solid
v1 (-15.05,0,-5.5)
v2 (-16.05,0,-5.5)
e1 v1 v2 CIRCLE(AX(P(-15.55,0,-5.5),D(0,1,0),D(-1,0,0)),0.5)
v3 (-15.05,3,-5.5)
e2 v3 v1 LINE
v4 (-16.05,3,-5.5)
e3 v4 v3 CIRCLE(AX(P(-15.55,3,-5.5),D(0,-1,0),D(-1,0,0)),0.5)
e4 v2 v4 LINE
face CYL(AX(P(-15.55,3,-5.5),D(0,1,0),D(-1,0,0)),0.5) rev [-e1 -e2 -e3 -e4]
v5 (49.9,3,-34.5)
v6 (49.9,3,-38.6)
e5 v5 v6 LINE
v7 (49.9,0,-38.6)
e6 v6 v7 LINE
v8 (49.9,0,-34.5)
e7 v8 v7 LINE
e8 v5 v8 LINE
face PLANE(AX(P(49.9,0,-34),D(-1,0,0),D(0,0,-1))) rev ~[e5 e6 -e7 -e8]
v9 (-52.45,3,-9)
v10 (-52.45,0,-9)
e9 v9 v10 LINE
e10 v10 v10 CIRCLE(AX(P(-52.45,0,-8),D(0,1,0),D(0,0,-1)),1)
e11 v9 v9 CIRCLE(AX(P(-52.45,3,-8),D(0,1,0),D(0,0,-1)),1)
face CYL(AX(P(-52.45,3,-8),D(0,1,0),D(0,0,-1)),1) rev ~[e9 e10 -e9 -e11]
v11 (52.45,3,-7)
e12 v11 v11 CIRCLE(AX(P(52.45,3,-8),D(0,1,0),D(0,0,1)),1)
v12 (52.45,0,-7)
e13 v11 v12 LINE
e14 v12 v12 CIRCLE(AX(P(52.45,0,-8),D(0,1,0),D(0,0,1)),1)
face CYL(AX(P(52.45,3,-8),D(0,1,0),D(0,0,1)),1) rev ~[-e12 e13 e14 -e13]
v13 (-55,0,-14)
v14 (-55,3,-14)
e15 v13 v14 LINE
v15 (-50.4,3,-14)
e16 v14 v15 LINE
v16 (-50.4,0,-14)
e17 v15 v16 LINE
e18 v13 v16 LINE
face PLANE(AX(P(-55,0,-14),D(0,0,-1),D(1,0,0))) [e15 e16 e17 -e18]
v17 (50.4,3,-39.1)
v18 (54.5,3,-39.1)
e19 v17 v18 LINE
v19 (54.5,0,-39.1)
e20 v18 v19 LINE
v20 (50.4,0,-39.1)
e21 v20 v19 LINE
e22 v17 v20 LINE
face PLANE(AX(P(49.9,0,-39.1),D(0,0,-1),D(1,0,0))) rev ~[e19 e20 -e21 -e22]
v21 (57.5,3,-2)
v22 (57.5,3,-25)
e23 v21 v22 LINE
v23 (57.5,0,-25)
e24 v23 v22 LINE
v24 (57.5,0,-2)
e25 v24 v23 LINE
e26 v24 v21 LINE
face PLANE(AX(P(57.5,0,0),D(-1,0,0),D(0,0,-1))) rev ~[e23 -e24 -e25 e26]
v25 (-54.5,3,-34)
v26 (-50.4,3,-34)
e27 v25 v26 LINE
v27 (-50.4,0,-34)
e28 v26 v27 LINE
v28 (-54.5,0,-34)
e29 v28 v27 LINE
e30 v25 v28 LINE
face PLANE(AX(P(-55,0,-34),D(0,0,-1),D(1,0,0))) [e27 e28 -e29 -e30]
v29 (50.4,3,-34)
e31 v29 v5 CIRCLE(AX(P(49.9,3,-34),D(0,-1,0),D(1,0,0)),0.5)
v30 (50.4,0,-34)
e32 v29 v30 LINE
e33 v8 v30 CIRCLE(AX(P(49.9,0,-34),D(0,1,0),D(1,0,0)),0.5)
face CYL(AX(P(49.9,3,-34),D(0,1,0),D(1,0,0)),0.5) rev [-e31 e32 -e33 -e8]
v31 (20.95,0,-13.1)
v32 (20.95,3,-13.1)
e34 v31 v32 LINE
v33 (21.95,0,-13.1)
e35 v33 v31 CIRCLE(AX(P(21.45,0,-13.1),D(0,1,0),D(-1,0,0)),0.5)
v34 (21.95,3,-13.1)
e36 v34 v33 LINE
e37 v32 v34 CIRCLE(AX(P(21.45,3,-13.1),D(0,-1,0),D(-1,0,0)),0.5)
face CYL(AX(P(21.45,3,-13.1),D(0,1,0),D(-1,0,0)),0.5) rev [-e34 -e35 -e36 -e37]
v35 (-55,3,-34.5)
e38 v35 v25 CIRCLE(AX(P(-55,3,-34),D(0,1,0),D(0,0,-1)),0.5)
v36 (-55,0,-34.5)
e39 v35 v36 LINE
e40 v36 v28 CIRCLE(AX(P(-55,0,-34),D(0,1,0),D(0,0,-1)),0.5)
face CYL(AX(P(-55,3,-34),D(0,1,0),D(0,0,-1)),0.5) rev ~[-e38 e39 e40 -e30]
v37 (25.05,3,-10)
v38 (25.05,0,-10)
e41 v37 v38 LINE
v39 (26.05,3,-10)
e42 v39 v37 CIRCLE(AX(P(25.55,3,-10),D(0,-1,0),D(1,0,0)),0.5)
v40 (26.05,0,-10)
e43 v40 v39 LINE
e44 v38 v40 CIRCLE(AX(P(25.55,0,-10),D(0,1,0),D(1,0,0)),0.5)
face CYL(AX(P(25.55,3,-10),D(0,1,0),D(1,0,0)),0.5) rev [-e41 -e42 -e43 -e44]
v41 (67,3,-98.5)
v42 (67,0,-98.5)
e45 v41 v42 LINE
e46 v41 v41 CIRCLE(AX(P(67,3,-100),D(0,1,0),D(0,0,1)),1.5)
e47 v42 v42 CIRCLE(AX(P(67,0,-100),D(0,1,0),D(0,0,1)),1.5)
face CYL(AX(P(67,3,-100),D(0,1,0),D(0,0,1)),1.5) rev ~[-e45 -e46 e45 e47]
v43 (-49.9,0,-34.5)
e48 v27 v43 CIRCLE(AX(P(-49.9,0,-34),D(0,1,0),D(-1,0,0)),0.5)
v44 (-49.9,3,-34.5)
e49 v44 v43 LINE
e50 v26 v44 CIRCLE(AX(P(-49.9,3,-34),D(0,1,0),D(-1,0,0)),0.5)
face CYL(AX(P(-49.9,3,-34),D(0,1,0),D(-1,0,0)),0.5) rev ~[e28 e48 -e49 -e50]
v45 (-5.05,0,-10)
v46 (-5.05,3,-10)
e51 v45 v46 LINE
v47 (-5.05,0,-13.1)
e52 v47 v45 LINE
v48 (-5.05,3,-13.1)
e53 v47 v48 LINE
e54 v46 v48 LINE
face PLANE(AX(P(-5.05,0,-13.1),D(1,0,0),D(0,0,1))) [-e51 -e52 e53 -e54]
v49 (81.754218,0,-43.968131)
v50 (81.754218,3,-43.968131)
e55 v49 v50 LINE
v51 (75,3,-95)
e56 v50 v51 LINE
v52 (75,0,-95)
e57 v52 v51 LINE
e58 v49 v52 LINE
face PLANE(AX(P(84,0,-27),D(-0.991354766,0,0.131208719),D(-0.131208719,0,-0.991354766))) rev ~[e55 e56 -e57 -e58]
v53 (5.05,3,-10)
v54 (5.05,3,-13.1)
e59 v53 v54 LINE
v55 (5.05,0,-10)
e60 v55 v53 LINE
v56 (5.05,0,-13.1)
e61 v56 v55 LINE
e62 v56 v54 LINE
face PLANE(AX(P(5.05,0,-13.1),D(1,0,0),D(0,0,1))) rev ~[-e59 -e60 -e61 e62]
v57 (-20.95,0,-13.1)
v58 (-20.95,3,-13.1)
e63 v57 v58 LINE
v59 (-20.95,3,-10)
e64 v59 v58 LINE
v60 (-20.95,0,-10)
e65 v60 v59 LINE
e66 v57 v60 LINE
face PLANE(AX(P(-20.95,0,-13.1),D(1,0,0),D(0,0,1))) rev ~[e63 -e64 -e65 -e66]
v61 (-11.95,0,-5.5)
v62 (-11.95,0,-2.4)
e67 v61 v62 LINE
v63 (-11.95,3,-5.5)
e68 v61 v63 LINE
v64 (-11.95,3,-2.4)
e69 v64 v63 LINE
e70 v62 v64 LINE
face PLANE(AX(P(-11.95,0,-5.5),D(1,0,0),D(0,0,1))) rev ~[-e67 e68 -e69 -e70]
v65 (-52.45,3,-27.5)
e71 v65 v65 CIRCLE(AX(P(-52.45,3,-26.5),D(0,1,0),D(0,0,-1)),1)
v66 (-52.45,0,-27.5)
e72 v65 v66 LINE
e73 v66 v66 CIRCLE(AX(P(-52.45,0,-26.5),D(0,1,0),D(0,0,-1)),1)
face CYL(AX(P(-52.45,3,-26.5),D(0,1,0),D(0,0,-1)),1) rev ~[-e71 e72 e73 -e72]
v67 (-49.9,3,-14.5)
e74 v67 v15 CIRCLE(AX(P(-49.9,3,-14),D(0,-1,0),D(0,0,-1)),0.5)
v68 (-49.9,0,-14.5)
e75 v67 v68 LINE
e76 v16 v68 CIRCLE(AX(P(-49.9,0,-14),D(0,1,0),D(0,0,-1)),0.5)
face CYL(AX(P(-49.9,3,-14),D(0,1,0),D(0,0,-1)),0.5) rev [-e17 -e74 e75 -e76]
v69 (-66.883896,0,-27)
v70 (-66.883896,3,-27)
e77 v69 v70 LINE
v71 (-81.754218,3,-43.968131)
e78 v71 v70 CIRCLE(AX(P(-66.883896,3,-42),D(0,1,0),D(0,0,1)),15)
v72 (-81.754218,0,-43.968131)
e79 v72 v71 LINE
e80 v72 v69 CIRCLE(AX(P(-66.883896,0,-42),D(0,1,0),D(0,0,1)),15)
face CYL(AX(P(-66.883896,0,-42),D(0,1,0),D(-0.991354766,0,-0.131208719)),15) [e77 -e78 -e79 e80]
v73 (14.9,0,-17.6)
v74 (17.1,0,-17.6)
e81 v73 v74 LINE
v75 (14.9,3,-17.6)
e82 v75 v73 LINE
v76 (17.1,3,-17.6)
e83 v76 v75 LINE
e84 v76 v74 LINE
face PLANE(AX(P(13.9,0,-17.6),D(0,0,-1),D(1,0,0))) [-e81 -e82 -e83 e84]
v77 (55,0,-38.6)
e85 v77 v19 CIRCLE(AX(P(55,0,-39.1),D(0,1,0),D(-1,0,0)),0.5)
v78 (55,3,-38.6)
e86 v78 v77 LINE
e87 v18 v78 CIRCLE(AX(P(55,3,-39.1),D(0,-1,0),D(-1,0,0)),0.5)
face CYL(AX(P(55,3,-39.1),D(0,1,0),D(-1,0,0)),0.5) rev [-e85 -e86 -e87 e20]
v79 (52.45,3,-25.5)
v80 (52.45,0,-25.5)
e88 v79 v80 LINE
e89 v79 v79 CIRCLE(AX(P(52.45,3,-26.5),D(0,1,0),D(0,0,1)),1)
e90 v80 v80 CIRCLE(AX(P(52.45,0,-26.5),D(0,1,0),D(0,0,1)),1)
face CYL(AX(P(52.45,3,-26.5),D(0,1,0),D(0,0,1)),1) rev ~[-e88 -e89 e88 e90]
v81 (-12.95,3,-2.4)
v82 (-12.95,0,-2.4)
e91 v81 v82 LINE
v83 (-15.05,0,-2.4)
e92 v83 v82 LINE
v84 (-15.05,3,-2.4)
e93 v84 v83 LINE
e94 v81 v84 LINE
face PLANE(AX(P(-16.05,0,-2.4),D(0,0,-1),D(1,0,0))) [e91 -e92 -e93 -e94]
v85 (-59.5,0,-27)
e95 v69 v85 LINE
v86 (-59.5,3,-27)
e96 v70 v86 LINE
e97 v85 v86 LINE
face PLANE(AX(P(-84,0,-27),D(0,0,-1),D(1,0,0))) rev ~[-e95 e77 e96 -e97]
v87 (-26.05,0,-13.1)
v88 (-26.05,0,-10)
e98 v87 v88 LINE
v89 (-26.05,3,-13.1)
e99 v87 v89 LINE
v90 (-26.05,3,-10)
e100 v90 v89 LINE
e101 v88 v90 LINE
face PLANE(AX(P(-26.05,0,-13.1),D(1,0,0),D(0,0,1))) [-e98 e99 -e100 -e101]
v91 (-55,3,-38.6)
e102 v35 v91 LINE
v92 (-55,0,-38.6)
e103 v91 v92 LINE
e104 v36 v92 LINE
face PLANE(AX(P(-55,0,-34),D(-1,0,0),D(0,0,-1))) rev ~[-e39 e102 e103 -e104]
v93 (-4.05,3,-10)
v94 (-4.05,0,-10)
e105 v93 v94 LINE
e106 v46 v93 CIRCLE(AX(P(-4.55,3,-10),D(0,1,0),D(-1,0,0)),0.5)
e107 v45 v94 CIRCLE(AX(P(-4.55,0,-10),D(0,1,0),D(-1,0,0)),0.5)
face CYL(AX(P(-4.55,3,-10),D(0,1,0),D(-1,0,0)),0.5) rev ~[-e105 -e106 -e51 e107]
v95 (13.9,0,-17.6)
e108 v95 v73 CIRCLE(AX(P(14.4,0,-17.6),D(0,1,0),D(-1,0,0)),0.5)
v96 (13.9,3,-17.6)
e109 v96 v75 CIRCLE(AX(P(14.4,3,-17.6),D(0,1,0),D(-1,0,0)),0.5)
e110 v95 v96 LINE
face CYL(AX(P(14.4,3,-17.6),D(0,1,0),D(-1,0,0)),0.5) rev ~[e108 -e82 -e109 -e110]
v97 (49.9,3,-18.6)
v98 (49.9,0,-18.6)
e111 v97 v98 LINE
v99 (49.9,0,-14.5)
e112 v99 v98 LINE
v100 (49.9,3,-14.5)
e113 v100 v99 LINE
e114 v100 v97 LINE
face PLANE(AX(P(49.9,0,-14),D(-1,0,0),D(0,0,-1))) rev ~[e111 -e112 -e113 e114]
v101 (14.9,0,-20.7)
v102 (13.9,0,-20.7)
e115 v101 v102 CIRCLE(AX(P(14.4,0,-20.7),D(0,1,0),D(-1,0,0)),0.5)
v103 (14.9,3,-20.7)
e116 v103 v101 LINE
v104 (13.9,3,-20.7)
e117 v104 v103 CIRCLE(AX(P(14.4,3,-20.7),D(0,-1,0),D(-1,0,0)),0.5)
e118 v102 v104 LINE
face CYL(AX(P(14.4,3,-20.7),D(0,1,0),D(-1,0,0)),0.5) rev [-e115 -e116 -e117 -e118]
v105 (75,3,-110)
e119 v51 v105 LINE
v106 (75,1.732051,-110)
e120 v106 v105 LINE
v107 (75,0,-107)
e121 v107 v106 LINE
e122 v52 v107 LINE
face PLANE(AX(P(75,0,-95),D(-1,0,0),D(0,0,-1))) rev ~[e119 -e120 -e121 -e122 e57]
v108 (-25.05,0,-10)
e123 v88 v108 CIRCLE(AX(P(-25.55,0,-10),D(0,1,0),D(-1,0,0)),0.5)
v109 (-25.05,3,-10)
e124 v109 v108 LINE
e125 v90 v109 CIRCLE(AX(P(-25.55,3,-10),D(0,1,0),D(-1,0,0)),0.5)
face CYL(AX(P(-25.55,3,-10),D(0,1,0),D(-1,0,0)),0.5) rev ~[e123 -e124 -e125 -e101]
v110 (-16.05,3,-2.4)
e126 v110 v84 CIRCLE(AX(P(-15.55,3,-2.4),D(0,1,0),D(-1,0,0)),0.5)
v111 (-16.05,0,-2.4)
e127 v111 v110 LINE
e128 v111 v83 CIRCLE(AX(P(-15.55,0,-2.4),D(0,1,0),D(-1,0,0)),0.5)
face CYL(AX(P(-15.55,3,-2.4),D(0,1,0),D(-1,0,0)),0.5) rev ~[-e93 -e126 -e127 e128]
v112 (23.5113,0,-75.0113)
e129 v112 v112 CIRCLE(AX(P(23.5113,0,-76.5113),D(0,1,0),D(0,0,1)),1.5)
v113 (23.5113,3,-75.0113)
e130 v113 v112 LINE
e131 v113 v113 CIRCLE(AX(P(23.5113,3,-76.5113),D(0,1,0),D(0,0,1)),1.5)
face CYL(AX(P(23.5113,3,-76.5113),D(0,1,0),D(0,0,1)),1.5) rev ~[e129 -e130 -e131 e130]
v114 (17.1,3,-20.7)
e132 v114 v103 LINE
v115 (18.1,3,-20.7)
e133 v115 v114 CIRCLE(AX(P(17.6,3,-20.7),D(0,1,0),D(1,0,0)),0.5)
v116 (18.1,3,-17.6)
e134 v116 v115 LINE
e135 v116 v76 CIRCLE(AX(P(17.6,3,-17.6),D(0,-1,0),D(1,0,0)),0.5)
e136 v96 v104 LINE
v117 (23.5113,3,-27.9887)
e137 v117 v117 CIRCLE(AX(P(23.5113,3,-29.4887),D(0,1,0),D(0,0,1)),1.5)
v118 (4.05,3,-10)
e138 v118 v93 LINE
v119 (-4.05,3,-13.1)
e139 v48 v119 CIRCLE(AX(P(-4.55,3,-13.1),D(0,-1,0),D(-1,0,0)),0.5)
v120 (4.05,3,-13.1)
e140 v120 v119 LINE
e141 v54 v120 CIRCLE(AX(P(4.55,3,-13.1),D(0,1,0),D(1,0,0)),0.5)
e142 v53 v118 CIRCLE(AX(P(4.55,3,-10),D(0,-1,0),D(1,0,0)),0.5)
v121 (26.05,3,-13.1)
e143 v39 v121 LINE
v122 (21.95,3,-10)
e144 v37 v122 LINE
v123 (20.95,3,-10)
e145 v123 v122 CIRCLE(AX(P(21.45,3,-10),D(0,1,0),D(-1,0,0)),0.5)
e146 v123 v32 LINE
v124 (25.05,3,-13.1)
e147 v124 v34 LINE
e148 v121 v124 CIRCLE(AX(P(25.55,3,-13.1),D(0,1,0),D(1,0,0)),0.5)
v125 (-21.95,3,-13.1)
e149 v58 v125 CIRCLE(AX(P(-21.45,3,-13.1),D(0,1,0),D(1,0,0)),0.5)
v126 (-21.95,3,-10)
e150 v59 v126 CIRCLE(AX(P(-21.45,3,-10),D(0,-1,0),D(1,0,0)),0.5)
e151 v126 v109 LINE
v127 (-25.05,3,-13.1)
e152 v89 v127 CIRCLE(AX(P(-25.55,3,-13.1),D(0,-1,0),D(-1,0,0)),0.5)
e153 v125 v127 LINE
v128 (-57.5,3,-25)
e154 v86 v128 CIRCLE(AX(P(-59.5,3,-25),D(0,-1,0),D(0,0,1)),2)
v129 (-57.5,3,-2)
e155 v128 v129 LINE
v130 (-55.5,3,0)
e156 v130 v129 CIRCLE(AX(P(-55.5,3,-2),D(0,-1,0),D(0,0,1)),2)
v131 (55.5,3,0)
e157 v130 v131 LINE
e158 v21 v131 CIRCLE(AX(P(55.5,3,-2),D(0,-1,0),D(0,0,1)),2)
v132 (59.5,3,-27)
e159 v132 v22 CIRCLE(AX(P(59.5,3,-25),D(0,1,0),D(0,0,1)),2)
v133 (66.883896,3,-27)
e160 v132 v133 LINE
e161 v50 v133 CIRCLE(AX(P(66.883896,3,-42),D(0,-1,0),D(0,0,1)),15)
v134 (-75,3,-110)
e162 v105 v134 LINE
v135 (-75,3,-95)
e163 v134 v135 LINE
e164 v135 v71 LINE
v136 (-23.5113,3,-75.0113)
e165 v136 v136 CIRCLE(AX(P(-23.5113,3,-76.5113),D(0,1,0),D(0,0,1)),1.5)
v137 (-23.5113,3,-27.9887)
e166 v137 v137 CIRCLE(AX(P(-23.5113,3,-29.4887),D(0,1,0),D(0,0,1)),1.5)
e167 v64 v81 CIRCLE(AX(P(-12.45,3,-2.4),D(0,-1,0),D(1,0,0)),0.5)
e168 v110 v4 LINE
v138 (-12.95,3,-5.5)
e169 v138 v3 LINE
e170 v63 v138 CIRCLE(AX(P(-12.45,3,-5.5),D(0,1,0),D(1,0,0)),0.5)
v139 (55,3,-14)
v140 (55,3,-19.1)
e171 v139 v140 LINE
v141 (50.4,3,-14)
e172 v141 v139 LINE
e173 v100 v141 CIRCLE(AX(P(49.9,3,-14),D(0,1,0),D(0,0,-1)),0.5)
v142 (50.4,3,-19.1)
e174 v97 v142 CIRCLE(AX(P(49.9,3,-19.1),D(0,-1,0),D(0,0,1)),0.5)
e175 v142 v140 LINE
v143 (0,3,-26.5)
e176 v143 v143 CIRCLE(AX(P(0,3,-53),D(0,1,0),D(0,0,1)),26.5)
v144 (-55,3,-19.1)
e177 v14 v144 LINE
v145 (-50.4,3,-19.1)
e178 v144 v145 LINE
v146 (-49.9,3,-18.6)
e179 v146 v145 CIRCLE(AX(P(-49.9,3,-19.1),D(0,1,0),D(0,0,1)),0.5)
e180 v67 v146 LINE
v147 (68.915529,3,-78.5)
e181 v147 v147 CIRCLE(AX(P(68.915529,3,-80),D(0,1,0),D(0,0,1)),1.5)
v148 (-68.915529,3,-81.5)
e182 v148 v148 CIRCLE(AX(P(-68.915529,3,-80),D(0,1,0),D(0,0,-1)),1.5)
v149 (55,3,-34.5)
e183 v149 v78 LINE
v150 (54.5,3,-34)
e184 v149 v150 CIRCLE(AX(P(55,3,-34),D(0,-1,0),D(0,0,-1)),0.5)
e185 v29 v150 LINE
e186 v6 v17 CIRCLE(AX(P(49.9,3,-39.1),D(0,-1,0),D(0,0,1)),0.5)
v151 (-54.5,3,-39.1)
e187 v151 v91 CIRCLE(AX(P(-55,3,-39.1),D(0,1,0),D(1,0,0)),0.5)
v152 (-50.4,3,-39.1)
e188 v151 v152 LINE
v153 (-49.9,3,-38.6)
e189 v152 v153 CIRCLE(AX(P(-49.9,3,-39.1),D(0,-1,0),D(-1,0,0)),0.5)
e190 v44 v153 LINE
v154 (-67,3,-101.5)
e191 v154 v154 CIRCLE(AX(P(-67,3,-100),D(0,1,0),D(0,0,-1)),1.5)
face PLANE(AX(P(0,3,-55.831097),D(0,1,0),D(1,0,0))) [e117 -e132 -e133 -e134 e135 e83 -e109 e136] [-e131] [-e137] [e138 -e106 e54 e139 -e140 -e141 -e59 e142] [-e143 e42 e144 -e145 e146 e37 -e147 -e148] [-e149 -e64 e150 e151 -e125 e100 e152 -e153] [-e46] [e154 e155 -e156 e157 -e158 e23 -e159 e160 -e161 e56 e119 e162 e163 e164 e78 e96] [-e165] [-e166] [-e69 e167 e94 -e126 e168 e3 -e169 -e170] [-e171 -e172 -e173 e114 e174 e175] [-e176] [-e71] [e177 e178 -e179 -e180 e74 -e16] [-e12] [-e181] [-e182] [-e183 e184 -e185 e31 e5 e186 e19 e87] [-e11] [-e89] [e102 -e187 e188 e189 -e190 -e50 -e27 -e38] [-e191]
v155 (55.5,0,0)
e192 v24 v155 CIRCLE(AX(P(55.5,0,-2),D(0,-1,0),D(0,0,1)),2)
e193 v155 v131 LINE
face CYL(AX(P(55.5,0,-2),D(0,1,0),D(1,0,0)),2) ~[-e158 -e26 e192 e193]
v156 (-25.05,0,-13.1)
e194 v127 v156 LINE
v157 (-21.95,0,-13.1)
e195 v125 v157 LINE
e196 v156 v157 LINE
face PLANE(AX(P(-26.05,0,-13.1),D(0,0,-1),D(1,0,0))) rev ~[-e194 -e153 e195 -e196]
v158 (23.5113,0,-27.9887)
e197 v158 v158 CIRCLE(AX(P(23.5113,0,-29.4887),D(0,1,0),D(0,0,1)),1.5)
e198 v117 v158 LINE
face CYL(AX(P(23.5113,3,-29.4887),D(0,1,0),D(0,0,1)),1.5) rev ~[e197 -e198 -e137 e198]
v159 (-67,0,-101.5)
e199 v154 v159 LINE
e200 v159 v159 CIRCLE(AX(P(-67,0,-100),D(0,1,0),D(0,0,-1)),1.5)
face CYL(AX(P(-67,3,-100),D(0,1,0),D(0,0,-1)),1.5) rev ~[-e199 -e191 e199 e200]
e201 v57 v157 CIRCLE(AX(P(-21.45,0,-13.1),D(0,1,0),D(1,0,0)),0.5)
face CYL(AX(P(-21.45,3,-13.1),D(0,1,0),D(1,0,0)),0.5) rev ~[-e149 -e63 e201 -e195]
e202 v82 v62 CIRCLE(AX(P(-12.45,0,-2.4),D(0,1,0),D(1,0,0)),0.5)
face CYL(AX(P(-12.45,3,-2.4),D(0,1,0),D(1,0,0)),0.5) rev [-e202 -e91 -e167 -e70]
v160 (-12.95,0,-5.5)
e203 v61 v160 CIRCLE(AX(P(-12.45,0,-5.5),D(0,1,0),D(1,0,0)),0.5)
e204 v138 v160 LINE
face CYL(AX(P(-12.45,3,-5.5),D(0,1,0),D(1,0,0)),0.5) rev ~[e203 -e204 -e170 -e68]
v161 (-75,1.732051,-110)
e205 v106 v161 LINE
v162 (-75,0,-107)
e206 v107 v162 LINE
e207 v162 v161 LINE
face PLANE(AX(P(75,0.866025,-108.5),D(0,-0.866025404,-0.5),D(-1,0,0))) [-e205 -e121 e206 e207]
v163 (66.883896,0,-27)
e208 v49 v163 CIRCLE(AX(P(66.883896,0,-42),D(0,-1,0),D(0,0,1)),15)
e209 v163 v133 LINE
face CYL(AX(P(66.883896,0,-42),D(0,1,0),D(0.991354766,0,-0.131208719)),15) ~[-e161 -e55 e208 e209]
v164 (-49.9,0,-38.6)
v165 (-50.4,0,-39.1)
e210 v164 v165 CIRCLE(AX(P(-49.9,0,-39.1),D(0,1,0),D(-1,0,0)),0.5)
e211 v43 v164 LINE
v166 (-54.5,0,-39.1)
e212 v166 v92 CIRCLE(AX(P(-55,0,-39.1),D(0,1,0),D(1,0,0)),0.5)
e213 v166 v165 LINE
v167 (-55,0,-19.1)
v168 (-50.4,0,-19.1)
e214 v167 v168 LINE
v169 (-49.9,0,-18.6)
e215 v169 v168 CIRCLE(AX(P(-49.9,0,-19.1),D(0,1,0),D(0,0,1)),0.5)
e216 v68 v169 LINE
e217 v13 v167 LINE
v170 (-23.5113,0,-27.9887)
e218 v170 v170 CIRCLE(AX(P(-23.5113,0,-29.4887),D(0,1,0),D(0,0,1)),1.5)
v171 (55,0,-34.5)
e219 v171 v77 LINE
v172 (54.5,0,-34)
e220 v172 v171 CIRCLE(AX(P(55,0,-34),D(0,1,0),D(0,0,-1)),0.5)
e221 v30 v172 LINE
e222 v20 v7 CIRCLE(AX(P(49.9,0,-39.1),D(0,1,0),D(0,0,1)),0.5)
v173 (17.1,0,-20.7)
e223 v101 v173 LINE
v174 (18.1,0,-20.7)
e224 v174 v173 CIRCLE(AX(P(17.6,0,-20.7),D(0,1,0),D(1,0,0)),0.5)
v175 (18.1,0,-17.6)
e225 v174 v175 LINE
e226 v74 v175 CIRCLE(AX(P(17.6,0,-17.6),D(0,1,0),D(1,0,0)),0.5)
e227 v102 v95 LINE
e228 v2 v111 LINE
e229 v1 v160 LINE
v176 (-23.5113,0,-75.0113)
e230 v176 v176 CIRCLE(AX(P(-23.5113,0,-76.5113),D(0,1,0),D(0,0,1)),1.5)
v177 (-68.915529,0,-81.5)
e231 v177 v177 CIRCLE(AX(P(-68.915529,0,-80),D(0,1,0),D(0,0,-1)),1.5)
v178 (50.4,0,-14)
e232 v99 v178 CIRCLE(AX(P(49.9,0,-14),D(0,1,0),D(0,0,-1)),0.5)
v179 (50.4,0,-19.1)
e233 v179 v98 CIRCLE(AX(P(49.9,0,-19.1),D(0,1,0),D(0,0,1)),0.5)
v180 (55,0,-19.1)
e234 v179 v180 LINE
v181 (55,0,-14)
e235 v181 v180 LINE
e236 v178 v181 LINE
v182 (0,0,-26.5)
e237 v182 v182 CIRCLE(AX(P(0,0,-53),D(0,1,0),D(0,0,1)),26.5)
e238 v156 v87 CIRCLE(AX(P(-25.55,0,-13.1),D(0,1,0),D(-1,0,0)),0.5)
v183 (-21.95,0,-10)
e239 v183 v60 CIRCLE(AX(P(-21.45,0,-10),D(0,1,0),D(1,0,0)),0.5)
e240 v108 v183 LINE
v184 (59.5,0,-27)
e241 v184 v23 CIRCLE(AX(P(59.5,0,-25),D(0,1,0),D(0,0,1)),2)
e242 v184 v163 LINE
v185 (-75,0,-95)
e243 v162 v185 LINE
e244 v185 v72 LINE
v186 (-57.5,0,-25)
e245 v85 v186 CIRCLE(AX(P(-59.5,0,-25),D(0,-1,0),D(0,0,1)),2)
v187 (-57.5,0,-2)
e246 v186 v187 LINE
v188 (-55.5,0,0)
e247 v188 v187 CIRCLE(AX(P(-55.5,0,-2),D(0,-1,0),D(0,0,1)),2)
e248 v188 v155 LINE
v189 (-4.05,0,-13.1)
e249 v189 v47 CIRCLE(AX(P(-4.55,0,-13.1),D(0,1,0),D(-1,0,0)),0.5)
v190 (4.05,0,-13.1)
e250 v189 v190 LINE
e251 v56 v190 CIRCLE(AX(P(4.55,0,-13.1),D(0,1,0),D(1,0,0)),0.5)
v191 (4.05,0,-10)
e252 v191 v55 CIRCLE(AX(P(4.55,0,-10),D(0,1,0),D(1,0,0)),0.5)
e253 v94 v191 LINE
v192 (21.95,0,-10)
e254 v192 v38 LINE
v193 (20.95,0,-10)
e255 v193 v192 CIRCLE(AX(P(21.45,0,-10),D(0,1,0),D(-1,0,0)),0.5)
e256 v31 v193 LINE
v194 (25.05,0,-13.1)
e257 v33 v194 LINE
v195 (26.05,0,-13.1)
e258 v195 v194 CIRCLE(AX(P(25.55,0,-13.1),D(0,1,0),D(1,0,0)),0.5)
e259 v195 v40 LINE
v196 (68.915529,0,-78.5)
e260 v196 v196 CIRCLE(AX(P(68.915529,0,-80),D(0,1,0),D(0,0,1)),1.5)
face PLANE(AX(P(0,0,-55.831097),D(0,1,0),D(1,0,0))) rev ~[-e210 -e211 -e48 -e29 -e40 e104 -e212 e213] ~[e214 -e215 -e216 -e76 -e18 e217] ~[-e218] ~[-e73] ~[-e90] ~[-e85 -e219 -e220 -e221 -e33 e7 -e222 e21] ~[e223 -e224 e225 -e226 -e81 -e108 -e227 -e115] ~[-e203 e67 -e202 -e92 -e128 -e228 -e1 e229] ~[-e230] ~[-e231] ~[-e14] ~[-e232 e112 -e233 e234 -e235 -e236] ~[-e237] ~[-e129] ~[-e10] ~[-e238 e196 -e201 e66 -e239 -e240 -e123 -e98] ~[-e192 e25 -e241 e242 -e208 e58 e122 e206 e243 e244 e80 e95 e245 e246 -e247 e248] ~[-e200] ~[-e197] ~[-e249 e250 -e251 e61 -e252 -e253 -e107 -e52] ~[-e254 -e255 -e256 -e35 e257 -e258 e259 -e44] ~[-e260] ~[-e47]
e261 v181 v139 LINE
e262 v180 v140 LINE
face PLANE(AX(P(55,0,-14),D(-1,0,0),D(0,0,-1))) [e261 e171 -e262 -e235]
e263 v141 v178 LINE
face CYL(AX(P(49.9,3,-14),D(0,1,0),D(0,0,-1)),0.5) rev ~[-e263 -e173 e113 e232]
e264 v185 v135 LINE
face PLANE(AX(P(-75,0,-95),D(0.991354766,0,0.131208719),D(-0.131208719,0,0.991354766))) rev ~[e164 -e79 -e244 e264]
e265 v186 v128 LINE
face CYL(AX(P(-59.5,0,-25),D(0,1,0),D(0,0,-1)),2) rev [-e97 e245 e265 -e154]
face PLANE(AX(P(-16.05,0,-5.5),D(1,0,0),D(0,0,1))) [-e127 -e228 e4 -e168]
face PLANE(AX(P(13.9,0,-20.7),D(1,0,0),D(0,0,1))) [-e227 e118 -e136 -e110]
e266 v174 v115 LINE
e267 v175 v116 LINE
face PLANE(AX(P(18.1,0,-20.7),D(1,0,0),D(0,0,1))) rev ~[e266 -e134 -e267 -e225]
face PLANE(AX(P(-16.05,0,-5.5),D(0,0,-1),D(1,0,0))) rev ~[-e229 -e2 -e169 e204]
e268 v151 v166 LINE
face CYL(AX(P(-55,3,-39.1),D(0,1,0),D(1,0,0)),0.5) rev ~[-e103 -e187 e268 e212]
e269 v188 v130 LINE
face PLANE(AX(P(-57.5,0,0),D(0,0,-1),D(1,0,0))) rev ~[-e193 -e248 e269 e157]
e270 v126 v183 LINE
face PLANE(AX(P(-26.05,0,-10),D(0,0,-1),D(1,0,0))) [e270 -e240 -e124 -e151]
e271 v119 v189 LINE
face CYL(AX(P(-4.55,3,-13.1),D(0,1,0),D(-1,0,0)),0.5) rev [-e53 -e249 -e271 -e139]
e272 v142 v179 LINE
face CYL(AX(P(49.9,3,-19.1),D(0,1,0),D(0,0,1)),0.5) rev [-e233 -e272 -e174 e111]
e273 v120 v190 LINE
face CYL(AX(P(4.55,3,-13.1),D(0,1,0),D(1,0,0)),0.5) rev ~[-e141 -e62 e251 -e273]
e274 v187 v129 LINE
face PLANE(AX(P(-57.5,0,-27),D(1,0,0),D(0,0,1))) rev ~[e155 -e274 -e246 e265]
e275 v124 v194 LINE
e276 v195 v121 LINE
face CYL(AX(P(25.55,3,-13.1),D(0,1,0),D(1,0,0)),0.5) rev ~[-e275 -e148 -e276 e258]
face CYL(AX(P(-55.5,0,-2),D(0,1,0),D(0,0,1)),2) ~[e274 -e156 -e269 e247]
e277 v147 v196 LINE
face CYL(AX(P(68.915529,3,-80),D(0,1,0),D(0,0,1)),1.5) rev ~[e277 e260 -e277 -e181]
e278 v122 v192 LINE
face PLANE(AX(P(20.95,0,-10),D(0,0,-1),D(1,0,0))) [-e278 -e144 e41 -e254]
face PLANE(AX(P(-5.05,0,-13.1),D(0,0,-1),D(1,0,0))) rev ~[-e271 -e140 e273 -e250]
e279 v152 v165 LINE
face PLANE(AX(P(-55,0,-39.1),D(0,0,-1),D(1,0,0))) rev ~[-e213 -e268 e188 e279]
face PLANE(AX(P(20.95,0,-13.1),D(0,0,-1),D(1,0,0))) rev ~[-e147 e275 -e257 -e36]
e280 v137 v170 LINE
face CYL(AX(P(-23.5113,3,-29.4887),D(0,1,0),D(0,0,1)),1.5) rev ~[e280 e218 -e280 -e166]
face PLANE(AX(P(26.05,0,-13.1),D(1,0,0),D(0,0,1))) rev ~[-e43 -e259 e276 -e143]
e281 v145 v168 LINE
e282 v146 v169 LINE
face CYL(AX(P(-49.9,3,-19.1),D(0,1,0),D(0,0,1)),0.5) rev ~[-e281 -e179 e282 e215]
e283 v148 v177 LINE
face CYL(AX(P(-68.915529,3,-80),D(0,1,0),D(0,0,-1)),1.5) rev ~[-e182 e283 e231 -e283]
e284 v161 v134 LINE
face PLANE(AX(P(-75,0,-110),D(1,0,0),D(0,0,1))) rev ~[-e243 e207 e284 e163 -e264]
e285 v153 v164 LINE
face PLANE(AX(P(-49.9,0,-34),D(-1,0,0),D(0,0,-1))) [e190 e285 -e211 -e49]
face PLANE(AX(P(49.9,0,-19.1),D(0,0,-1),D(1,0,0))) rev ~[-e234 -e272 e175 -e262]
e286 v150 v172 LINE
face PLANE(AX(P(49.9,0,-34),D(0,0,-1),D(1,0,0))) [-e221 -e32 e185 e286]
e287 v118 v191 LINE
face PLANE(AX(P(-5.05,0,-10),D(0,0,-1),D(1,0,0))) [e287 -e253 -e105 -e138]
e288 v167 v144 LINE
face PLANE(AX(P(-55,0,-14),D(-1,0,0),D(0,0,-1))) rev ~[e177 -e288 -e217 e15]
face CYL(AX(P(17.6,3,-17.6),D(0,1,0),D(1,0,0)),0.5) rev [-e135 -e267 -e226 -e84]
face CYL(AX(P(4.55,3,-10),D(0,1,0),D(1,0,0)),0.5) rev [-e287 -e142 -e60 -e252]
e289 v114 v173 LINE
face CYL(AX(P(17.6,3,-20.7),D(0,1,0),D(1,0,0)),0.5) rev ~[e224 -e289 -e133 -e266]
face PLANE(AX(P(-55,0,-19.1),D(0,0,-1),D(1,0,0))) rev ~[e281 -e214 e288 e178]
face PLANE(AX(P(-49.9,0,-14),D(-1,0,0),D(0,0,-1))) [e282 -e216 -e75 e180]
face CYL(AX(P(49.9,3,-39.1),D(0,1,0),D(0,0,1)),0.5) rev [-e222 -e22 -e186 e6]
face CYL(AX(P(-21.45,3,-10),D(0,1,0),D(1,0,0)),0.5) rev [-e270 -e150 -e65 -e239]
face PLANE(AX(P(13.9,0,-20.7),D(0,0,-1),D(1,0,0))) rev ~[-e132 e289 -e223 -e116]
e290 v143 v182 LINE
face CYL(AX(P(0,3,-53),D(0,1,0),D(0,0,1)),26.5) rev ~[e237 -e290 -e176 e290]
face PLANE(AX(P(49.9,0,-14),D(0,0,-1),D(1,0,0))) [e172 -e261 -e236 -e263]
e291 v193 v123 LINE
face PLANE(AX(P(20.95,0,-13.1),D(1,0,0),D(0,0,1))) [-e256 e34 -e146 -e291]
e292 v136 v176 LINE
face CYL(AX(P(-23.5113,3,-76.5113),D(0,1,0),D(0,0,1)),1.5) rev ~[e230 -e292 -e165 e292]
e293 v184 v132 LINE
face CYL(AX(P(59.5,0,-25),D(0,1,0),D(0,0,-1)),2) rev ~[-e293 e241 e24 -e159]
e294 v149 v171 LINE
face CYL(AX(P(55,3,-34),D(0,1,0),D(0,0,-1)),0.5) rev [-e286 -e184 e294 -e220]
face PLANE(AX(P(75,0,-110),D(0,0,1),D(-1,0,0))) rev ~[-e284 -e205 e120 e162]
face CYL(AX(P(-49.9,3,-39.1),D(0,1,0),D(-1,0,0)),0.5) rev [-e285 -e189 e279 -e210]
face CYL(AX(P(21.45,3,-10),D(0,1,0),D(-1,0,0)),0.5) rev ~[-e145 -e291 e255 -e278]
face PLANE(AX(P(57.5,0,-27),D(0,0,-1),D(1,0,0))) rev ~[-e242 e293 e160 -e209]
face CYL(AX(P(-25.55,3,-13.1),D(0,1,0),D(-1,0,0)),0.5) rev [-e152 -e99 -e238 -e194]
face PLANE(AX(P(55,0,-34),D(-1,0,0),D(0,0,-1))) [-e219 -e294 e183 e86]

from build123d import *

# Parameters (mm, degrees)
SKETCH1_W           = 5.1
SKETCH1_H           = 5.1
BOSS_EXTRUDE1_DEPTH = 3
SKETCH2_R           = 26.5
SKETCH2_R_2         = 1.5
CUT_EXTRUDE1_DEPTH  = 3
FILLET1_R           = 15
SKETCH7_W           = 4.1
SKETCH7_H           = 3.1
SKETCH7_W_2         = 4.2
SKETCH7_W_3         = 5.1
SKETCH7_W_4         = 10.1
CUT_EXTRUDE4_DEPTH  = 10
CHAMFER1_SIZE       = 3
CHAMFER1_SIZE2      = 1.732050808
CUT_EXTRUDE5_DEPTH  = 10
SKETCH9_R           = 1
SKETCH9_R_2         = 1.5
CUT_EXTRUDE6_DEPTH  = 10
FILLET3_R           = 2


with BuildPart() as part:
    # Sketch1 → Boss-Extrude1 (new body)
    with BuildSketch(Plane(origin=(0, 0, 0), x_dir=(1, 0, 0), z_dir=(0, 1, 0))):
        Polygon((75, 95), (75, 110), (-75, 110), (-75, 95), (-84, 27), (-57.5, 27), (-57.5, 19.1), (-57.5, 14), (-57.5, 0), (57.5, 0), (57.5, 14), (57.5, 19.1), (57.5, 27), (84, 27), align=None)
        with Locations((52.45, 16.55)):
            Rectangle(SKETCH1_W, SKETCH1_H, mode=Mode.SUBTRACT)
        with Locations((52.45, 36.55)):
            Rectangle(SKETCH1_W, SKETCH1_H, mode=Mode.SUBTRACT)
        with Locations((-52.45, 16.55)):
            Rectangle(SKETCH1_W, SKETCH1_H, mode=Mode.SUBTRACT)
        with Locations((-52.45, 36.55)):
            Rectangle(SKETCH1_W, SKETCH1_H, mode=Mode.SUBTRACT)
    extrude(amount=BOSS_EXTRUDE1_DEPTH)

    # Sketch2 → Cut-Extrude1 (cut)
    with BuildSketch(Plane(origin=(0, 3, 0), x_dir=(1, 0, 0), z_dir=(0, 1, 0))):
        with Locations(Location((0, 53, 0), (0, 0, 270))):
            Circle(SKETCH2_R)
        with Locations(Location((23.511300474, 76.511300474, 0), (0, 0, 270))):
            Circle(SKETCH2_R_2)
        with Locations(Location((-23.511300474, 76.511300474, 0), (0, 0, 270))):
            Circle(SKETCH2_R_2)
        with Locations(Location((-23.511300474, 29.488699526, 0), (0, 0, 270))):
            Circle(SKETCH2_R_2)
        with Locations(Location((23.511300474, 29.488699526, 0), (0, 0, 270))):
            Circle(SKETCH2_R_2)
    extrude(amount=-CUT_EXTRUDE1_DEPTH, mode=Mode.SUBTRACT)

    # Fillet1
    fillet1_edges = [part.edges().sort_by_distance(p)[0] for p in [
        (-84, 1.5, -27),
        (84, 1.5, -27),
    ]]
    fillet(fillet1_edges, radius=FILLET1_R)

    # Sketch7 → Cut-Extrude4 (cut)
    with BuildSketch(Plane.XZ):
        with Locations((-14, -3.95)):
            Rectangle(SKETCH7_W, SKETCH7_H)
        with Locations((16, -19.15)):
            Rectangle(SKETCH7_W_2, SKETCH7_H)
        with Locations((-23.5, -11.55)):
            Rectangle(SKETCH7_W_3, SKETCH7_H)
        with Locations((23.5, -11.55)):
            Rectangle(SKETCH7_W_3, SKETCH7_H)
        with Locations((0, -11.55)):
            Rectangle(SKETCH7_W_4, SKETCH7_H)
    extrude(amount=-CUT_EXTRUDE4_DEPTH, mode=Mode.SUBTRACT)

    # Chamfer1
    chamfer1_edges = [part.edges().sort_by_distance(p)[0] for p in [
        (0, 0, -110),
    ]]
    chamfer1_side = [part.faces().sort_by_distance(p)[0] for p in [
        (76.421351958, 0, -69.225215197),
    ]]
    chamfer(chamfer1_edges, length=CHAMFER1_SIZE, length2=CHAMFER1_SIZE2, reference=chamfer1_side[0])

    # Sketch4 → Cut-Extrude5 (cut)
    with BuildSketch(Plane(origin=(0, 3, 0), x_dir=(1, 0, 0), z_dir=(0, 1, 0))):
        with BuildLine():
            Line((50.4, 39.1), (49.9, 39.1))
            Line((49.9, 39.1), (49.9, 38.6))
            ThreePointArc((49.9, 38.6), (49.546446609, 39.453553391), (50.4, 39.1))
        make_face()
        with BuildLine():
            ThreePointArc((54.5, 39.1), (55.353553391, 39.453553391), (55, 38.6))
            Line((55, 38.6), (55, 39.1))
            Line((55, 39.1), (54.5, 39.1))
        make_face()
        with BuildLine():
            ThreePointArc((55, 34.5), (55.353553391, 33.646446609), (54.5, 34))
            Line((54.5, 34), (55, 34))
            Line((55, 34), (55, 34.5))
        make_face()
        with BuildLine():
            Line((49.9, 34.5), (49.9, 34))
            Line((49.9, 34), (50.4, 34))
            ThreePointArc((50.4, 34), (49.546446609, 33.646446609), (49.9, 34.5))
        make_face()
        with BuildLine():
            Line((49.9, 19.1), (49.9, 18.6))
            ThreePointArc((49.9, 18.6), (49.546446609, 19.453553391), (50.4, 19.1))
            Line((50.4, 19.1), (49.9, 19.1))
        make_face()
        with BuildLine():
            ThreePointArc((49.9, 14.5), (49.546446609, 13.646446609), (50.4, 14))
            Line((50.4, 14), (49.9, 14))
            Line((49.9, 14), (49.9, 14.5))
        make_face()
        with BuildLine():
            ThreePointArc((13.9, 20.7), (14.4, 21.2), (14.9, 20.7))
            Line((14.9, 20.7), (13.9, 20.7))
        make_face()
        with BuildLine():
            ThreePointArc((18.1, 20.7), (17.6, 21.2), (17.1, 20.7))
            Line((17.1, 20.7), (18.1, 20.7))
        make_face()
        with BuildLine():
            ThreePointArc((18.1, 17.6), (17.6, 17.1), (17.1, 17.6))
            Line((17.1, 17.6), (18.1, 17.6))
        make_face()
        with BuildLine():
            ThreePointArc((13.9, 17.6), (14.4, 17.1), (14.9, 17.6))
            Line((14.9, 17.6), (13.9, 17.6))
        make_face()
        with BuildLine():
            ThreePointArc((20.95, 13.1), (21.45, 13.6), (21.95, 13.1))
            Line((21.95, 13.1), (20.95, 13.1))
        make_face()
        with BuildLine():
            ThreePointArc((26.05, 13.1), (25.55, 13.6), (25.05, 13.1))
            Line((25.05, 13.1), (26.05, 13.1))
        make_face()
        with BuildLine():
            ThreePointArc((26.05, 10), (25.55, 9.5), (25.05, 10))
            Line((25.05, 10), (26.05, 10))
        make_face()
        with BuildLine():
            ThreePointArc((20.95, 10), (21.45, 9.5), (21.95, 10))
            Line((21.95, 10), (20.95, 10))
        make_face()
        with BuildLine():
            ThreePointArc((5.05, 13.1), (4.55, 13.6), (4.05, 13.1))
            Line((4.05, 13.1), (5.05, 13.1))
        make_face()
        with BuildLine():
            ThreePointArc((5.05, 10), (4.55, 9.5), (4.05, 10))
            Line((4.05, 10), (5.05, 10))
        make_face()
        with BuildLine():
            ThreePointArc((-5.05, 13.1), (-4.55, 13.6), (-4.05, 13.1))
            Line((-4.05, 13.1), (-5.05, 13.1))
        make_face()
        with BuildLine():
            ThreePointArc((-5.05, 10), (-4.55, 9.5), (-4.05, 10))
            Line((-4.05, 10), (-5.05, 10))
        make_face()
        with BuildLine():
            ThreePointArc((-11.95, 5.5), (-12.45, 6), (-12.95, 5.5))
            Line((-12.95, 5.5), (-11.95, 5.5))
        make_face()
        with BuildLine():
            ThreePointArc((-11.95, 2.4), (-12.45, 1.9), (-12.95, 2.4))
            Line((-12.95, 2.4), (-11.95, 2.4))
        make_face()
        with BuildLine():
            ThreePointArc((-16.05, 2.4), (-15.55, 1.9), (-15.05, 2.4))
            Line((-15.05, 2.4), (-16.05, 2.4))
        make_face()
        with BuildLine():
            ThreePointArc((-16.05, 5.5), (-15.55, 6), (-15.05, 5.5))
            Line((-15.05, 5.5), (-16.05, 5.5))
        make_face()
        with BuildLine():
            ThreePointArc((-20.95, 10), (-21.45, 9.5), (-21.95, 10))
            Line((-21.95, 10), (-20.95, 10))
        make_face()
        with BuildLine():
            ThreePointArc((-20.95, 13.1), (-21.45, 13.6), (-21.95, 13.1))
            Line((-21.95, 13.1), (-20.95, 13.1))
        make_face()
        with BuildLine():
            ThreePointArc((-26.05, 13.1), (-25.55, 13.6), (-25.05, 13.1))
            Line((-25.05, 13.1), (-26.05, 13.1))
        make_face()
        with BuildLine():
            ThreePointArc((-26.05, 10), (-25.55, 9.5), (-25.05, 10))
            Line((-25.05, 10), (-26.05, 10))
        make_face()
        with BuildLine():
            Line((-49.9, 19.1), (-49.9, 18.6))
            ThreePointArc((-49.9, 18.6), (-49.546446609, 19.453553391), (-50.4, 19.1))
            Line((-50.4, 19.1), (-49.9, 19.1))
        make_face()
        with BuildLine():
            ThreePointArc((-49.9, 14.5), (-49.546446609, 13.646446609), (-50.4, 14))
            Line((-50.4, 14), (-49.9, 14))
            Line((-49.9, 14), (-49.9, 14.5))
        make_face()
        with BuildLine():
            ThreePointArc((-50.4, 39.1), (-49.546446609, 39.453553391), (-49.9, 38.6))
            Line((-49.9, 38.6), (-49.9, 39.1))
            Line((-49.9, 39.1), (-50.4, 39.1))
        make_face()
        with BuildLine():
            Line((-49.9, 34), (-50.4, 34))
            ThreePointArc((-50.4, 34), (-49.546446609, 33.646446609), (-49.9, 34.5))
            Line((-49.9, 34.5), (-49.9, 34))
        make_face()
        with BuildLine():
            ThreePointArc((-54.5, 39.1), (-55.353553391, 39.453553391), (-55, 38.6))
            Line((-55, 38.6), (-55, 39.1))
            Line((-55, 39.1), (-54.5, 39.1))
        make_face()
        with BuildLine():
            ThreePointArc((-55, 34.5), (-55.353553391, 33.646446609), (-54.5, 34))
            Line((-54.5, 34), (-55, 34))
            Line((-55, 34), (-55, 34.5))
        make_face()
    extrude(amount=-CUT_EXTRUDE5_DEPTH, mode=Mode.SUBTRACT)

    # Sketch9 → Cut-Extrude6 (cut)
    with BuildSketch(Plane(origin=(0, 3, 0), x_dir=(1, 0, 0), z_dir=(0, 1, 0))):
        with Locations(Location((52.45, 26.5, 0), (0, 0, 270))):
            Circle(SKETCH9_R)
        with Locations(Location((52.45, 8, 0), (0, 0, 270))):
            Circle(SKETCH9_R)
        with Locations(Location((67, 100, 0), (0, 0, 270))):
            Circle(SKETCH9_R_2)
        with Locations(Location((68.915529111, 80, 0), (0, 0, 270))):
            Circle(SKETCH9_R_2)
        with Locations(Location((-52.45, 8, 0), (0, 0, 90))):
            Circle(SKETCH9_R)
        with Locations(Location((-52.45, 26.5, 0), (0, 0, 90))):
            Circle(SKETCH9_R)
        with Locations(Location((-68.915529111, 80, 0), (0, 0, 90))):
            Circle(SKETCH9_R_2)
        with Locations(Location((-67, 100, 0), (0, 0, 90))):
            Circle(SKETCH9_R_2)
    extrude(amount=-CUT_EXTRUDE6_DEPTH, mode=Mode.SUBTRACT)

    # Fillet3
    fillet3_edges = [part.edges().sort_by_distance(p)[0] for p in [
        (57.5, 1.5, 0),
        (-57.5, 1.5, 0),
        (-57.5, 1.5, -27),
        (57.5, 1.5, -27),
    ]]
    fillet(fillet3_edges, radius=FILLET3_R)


solid = part.part
